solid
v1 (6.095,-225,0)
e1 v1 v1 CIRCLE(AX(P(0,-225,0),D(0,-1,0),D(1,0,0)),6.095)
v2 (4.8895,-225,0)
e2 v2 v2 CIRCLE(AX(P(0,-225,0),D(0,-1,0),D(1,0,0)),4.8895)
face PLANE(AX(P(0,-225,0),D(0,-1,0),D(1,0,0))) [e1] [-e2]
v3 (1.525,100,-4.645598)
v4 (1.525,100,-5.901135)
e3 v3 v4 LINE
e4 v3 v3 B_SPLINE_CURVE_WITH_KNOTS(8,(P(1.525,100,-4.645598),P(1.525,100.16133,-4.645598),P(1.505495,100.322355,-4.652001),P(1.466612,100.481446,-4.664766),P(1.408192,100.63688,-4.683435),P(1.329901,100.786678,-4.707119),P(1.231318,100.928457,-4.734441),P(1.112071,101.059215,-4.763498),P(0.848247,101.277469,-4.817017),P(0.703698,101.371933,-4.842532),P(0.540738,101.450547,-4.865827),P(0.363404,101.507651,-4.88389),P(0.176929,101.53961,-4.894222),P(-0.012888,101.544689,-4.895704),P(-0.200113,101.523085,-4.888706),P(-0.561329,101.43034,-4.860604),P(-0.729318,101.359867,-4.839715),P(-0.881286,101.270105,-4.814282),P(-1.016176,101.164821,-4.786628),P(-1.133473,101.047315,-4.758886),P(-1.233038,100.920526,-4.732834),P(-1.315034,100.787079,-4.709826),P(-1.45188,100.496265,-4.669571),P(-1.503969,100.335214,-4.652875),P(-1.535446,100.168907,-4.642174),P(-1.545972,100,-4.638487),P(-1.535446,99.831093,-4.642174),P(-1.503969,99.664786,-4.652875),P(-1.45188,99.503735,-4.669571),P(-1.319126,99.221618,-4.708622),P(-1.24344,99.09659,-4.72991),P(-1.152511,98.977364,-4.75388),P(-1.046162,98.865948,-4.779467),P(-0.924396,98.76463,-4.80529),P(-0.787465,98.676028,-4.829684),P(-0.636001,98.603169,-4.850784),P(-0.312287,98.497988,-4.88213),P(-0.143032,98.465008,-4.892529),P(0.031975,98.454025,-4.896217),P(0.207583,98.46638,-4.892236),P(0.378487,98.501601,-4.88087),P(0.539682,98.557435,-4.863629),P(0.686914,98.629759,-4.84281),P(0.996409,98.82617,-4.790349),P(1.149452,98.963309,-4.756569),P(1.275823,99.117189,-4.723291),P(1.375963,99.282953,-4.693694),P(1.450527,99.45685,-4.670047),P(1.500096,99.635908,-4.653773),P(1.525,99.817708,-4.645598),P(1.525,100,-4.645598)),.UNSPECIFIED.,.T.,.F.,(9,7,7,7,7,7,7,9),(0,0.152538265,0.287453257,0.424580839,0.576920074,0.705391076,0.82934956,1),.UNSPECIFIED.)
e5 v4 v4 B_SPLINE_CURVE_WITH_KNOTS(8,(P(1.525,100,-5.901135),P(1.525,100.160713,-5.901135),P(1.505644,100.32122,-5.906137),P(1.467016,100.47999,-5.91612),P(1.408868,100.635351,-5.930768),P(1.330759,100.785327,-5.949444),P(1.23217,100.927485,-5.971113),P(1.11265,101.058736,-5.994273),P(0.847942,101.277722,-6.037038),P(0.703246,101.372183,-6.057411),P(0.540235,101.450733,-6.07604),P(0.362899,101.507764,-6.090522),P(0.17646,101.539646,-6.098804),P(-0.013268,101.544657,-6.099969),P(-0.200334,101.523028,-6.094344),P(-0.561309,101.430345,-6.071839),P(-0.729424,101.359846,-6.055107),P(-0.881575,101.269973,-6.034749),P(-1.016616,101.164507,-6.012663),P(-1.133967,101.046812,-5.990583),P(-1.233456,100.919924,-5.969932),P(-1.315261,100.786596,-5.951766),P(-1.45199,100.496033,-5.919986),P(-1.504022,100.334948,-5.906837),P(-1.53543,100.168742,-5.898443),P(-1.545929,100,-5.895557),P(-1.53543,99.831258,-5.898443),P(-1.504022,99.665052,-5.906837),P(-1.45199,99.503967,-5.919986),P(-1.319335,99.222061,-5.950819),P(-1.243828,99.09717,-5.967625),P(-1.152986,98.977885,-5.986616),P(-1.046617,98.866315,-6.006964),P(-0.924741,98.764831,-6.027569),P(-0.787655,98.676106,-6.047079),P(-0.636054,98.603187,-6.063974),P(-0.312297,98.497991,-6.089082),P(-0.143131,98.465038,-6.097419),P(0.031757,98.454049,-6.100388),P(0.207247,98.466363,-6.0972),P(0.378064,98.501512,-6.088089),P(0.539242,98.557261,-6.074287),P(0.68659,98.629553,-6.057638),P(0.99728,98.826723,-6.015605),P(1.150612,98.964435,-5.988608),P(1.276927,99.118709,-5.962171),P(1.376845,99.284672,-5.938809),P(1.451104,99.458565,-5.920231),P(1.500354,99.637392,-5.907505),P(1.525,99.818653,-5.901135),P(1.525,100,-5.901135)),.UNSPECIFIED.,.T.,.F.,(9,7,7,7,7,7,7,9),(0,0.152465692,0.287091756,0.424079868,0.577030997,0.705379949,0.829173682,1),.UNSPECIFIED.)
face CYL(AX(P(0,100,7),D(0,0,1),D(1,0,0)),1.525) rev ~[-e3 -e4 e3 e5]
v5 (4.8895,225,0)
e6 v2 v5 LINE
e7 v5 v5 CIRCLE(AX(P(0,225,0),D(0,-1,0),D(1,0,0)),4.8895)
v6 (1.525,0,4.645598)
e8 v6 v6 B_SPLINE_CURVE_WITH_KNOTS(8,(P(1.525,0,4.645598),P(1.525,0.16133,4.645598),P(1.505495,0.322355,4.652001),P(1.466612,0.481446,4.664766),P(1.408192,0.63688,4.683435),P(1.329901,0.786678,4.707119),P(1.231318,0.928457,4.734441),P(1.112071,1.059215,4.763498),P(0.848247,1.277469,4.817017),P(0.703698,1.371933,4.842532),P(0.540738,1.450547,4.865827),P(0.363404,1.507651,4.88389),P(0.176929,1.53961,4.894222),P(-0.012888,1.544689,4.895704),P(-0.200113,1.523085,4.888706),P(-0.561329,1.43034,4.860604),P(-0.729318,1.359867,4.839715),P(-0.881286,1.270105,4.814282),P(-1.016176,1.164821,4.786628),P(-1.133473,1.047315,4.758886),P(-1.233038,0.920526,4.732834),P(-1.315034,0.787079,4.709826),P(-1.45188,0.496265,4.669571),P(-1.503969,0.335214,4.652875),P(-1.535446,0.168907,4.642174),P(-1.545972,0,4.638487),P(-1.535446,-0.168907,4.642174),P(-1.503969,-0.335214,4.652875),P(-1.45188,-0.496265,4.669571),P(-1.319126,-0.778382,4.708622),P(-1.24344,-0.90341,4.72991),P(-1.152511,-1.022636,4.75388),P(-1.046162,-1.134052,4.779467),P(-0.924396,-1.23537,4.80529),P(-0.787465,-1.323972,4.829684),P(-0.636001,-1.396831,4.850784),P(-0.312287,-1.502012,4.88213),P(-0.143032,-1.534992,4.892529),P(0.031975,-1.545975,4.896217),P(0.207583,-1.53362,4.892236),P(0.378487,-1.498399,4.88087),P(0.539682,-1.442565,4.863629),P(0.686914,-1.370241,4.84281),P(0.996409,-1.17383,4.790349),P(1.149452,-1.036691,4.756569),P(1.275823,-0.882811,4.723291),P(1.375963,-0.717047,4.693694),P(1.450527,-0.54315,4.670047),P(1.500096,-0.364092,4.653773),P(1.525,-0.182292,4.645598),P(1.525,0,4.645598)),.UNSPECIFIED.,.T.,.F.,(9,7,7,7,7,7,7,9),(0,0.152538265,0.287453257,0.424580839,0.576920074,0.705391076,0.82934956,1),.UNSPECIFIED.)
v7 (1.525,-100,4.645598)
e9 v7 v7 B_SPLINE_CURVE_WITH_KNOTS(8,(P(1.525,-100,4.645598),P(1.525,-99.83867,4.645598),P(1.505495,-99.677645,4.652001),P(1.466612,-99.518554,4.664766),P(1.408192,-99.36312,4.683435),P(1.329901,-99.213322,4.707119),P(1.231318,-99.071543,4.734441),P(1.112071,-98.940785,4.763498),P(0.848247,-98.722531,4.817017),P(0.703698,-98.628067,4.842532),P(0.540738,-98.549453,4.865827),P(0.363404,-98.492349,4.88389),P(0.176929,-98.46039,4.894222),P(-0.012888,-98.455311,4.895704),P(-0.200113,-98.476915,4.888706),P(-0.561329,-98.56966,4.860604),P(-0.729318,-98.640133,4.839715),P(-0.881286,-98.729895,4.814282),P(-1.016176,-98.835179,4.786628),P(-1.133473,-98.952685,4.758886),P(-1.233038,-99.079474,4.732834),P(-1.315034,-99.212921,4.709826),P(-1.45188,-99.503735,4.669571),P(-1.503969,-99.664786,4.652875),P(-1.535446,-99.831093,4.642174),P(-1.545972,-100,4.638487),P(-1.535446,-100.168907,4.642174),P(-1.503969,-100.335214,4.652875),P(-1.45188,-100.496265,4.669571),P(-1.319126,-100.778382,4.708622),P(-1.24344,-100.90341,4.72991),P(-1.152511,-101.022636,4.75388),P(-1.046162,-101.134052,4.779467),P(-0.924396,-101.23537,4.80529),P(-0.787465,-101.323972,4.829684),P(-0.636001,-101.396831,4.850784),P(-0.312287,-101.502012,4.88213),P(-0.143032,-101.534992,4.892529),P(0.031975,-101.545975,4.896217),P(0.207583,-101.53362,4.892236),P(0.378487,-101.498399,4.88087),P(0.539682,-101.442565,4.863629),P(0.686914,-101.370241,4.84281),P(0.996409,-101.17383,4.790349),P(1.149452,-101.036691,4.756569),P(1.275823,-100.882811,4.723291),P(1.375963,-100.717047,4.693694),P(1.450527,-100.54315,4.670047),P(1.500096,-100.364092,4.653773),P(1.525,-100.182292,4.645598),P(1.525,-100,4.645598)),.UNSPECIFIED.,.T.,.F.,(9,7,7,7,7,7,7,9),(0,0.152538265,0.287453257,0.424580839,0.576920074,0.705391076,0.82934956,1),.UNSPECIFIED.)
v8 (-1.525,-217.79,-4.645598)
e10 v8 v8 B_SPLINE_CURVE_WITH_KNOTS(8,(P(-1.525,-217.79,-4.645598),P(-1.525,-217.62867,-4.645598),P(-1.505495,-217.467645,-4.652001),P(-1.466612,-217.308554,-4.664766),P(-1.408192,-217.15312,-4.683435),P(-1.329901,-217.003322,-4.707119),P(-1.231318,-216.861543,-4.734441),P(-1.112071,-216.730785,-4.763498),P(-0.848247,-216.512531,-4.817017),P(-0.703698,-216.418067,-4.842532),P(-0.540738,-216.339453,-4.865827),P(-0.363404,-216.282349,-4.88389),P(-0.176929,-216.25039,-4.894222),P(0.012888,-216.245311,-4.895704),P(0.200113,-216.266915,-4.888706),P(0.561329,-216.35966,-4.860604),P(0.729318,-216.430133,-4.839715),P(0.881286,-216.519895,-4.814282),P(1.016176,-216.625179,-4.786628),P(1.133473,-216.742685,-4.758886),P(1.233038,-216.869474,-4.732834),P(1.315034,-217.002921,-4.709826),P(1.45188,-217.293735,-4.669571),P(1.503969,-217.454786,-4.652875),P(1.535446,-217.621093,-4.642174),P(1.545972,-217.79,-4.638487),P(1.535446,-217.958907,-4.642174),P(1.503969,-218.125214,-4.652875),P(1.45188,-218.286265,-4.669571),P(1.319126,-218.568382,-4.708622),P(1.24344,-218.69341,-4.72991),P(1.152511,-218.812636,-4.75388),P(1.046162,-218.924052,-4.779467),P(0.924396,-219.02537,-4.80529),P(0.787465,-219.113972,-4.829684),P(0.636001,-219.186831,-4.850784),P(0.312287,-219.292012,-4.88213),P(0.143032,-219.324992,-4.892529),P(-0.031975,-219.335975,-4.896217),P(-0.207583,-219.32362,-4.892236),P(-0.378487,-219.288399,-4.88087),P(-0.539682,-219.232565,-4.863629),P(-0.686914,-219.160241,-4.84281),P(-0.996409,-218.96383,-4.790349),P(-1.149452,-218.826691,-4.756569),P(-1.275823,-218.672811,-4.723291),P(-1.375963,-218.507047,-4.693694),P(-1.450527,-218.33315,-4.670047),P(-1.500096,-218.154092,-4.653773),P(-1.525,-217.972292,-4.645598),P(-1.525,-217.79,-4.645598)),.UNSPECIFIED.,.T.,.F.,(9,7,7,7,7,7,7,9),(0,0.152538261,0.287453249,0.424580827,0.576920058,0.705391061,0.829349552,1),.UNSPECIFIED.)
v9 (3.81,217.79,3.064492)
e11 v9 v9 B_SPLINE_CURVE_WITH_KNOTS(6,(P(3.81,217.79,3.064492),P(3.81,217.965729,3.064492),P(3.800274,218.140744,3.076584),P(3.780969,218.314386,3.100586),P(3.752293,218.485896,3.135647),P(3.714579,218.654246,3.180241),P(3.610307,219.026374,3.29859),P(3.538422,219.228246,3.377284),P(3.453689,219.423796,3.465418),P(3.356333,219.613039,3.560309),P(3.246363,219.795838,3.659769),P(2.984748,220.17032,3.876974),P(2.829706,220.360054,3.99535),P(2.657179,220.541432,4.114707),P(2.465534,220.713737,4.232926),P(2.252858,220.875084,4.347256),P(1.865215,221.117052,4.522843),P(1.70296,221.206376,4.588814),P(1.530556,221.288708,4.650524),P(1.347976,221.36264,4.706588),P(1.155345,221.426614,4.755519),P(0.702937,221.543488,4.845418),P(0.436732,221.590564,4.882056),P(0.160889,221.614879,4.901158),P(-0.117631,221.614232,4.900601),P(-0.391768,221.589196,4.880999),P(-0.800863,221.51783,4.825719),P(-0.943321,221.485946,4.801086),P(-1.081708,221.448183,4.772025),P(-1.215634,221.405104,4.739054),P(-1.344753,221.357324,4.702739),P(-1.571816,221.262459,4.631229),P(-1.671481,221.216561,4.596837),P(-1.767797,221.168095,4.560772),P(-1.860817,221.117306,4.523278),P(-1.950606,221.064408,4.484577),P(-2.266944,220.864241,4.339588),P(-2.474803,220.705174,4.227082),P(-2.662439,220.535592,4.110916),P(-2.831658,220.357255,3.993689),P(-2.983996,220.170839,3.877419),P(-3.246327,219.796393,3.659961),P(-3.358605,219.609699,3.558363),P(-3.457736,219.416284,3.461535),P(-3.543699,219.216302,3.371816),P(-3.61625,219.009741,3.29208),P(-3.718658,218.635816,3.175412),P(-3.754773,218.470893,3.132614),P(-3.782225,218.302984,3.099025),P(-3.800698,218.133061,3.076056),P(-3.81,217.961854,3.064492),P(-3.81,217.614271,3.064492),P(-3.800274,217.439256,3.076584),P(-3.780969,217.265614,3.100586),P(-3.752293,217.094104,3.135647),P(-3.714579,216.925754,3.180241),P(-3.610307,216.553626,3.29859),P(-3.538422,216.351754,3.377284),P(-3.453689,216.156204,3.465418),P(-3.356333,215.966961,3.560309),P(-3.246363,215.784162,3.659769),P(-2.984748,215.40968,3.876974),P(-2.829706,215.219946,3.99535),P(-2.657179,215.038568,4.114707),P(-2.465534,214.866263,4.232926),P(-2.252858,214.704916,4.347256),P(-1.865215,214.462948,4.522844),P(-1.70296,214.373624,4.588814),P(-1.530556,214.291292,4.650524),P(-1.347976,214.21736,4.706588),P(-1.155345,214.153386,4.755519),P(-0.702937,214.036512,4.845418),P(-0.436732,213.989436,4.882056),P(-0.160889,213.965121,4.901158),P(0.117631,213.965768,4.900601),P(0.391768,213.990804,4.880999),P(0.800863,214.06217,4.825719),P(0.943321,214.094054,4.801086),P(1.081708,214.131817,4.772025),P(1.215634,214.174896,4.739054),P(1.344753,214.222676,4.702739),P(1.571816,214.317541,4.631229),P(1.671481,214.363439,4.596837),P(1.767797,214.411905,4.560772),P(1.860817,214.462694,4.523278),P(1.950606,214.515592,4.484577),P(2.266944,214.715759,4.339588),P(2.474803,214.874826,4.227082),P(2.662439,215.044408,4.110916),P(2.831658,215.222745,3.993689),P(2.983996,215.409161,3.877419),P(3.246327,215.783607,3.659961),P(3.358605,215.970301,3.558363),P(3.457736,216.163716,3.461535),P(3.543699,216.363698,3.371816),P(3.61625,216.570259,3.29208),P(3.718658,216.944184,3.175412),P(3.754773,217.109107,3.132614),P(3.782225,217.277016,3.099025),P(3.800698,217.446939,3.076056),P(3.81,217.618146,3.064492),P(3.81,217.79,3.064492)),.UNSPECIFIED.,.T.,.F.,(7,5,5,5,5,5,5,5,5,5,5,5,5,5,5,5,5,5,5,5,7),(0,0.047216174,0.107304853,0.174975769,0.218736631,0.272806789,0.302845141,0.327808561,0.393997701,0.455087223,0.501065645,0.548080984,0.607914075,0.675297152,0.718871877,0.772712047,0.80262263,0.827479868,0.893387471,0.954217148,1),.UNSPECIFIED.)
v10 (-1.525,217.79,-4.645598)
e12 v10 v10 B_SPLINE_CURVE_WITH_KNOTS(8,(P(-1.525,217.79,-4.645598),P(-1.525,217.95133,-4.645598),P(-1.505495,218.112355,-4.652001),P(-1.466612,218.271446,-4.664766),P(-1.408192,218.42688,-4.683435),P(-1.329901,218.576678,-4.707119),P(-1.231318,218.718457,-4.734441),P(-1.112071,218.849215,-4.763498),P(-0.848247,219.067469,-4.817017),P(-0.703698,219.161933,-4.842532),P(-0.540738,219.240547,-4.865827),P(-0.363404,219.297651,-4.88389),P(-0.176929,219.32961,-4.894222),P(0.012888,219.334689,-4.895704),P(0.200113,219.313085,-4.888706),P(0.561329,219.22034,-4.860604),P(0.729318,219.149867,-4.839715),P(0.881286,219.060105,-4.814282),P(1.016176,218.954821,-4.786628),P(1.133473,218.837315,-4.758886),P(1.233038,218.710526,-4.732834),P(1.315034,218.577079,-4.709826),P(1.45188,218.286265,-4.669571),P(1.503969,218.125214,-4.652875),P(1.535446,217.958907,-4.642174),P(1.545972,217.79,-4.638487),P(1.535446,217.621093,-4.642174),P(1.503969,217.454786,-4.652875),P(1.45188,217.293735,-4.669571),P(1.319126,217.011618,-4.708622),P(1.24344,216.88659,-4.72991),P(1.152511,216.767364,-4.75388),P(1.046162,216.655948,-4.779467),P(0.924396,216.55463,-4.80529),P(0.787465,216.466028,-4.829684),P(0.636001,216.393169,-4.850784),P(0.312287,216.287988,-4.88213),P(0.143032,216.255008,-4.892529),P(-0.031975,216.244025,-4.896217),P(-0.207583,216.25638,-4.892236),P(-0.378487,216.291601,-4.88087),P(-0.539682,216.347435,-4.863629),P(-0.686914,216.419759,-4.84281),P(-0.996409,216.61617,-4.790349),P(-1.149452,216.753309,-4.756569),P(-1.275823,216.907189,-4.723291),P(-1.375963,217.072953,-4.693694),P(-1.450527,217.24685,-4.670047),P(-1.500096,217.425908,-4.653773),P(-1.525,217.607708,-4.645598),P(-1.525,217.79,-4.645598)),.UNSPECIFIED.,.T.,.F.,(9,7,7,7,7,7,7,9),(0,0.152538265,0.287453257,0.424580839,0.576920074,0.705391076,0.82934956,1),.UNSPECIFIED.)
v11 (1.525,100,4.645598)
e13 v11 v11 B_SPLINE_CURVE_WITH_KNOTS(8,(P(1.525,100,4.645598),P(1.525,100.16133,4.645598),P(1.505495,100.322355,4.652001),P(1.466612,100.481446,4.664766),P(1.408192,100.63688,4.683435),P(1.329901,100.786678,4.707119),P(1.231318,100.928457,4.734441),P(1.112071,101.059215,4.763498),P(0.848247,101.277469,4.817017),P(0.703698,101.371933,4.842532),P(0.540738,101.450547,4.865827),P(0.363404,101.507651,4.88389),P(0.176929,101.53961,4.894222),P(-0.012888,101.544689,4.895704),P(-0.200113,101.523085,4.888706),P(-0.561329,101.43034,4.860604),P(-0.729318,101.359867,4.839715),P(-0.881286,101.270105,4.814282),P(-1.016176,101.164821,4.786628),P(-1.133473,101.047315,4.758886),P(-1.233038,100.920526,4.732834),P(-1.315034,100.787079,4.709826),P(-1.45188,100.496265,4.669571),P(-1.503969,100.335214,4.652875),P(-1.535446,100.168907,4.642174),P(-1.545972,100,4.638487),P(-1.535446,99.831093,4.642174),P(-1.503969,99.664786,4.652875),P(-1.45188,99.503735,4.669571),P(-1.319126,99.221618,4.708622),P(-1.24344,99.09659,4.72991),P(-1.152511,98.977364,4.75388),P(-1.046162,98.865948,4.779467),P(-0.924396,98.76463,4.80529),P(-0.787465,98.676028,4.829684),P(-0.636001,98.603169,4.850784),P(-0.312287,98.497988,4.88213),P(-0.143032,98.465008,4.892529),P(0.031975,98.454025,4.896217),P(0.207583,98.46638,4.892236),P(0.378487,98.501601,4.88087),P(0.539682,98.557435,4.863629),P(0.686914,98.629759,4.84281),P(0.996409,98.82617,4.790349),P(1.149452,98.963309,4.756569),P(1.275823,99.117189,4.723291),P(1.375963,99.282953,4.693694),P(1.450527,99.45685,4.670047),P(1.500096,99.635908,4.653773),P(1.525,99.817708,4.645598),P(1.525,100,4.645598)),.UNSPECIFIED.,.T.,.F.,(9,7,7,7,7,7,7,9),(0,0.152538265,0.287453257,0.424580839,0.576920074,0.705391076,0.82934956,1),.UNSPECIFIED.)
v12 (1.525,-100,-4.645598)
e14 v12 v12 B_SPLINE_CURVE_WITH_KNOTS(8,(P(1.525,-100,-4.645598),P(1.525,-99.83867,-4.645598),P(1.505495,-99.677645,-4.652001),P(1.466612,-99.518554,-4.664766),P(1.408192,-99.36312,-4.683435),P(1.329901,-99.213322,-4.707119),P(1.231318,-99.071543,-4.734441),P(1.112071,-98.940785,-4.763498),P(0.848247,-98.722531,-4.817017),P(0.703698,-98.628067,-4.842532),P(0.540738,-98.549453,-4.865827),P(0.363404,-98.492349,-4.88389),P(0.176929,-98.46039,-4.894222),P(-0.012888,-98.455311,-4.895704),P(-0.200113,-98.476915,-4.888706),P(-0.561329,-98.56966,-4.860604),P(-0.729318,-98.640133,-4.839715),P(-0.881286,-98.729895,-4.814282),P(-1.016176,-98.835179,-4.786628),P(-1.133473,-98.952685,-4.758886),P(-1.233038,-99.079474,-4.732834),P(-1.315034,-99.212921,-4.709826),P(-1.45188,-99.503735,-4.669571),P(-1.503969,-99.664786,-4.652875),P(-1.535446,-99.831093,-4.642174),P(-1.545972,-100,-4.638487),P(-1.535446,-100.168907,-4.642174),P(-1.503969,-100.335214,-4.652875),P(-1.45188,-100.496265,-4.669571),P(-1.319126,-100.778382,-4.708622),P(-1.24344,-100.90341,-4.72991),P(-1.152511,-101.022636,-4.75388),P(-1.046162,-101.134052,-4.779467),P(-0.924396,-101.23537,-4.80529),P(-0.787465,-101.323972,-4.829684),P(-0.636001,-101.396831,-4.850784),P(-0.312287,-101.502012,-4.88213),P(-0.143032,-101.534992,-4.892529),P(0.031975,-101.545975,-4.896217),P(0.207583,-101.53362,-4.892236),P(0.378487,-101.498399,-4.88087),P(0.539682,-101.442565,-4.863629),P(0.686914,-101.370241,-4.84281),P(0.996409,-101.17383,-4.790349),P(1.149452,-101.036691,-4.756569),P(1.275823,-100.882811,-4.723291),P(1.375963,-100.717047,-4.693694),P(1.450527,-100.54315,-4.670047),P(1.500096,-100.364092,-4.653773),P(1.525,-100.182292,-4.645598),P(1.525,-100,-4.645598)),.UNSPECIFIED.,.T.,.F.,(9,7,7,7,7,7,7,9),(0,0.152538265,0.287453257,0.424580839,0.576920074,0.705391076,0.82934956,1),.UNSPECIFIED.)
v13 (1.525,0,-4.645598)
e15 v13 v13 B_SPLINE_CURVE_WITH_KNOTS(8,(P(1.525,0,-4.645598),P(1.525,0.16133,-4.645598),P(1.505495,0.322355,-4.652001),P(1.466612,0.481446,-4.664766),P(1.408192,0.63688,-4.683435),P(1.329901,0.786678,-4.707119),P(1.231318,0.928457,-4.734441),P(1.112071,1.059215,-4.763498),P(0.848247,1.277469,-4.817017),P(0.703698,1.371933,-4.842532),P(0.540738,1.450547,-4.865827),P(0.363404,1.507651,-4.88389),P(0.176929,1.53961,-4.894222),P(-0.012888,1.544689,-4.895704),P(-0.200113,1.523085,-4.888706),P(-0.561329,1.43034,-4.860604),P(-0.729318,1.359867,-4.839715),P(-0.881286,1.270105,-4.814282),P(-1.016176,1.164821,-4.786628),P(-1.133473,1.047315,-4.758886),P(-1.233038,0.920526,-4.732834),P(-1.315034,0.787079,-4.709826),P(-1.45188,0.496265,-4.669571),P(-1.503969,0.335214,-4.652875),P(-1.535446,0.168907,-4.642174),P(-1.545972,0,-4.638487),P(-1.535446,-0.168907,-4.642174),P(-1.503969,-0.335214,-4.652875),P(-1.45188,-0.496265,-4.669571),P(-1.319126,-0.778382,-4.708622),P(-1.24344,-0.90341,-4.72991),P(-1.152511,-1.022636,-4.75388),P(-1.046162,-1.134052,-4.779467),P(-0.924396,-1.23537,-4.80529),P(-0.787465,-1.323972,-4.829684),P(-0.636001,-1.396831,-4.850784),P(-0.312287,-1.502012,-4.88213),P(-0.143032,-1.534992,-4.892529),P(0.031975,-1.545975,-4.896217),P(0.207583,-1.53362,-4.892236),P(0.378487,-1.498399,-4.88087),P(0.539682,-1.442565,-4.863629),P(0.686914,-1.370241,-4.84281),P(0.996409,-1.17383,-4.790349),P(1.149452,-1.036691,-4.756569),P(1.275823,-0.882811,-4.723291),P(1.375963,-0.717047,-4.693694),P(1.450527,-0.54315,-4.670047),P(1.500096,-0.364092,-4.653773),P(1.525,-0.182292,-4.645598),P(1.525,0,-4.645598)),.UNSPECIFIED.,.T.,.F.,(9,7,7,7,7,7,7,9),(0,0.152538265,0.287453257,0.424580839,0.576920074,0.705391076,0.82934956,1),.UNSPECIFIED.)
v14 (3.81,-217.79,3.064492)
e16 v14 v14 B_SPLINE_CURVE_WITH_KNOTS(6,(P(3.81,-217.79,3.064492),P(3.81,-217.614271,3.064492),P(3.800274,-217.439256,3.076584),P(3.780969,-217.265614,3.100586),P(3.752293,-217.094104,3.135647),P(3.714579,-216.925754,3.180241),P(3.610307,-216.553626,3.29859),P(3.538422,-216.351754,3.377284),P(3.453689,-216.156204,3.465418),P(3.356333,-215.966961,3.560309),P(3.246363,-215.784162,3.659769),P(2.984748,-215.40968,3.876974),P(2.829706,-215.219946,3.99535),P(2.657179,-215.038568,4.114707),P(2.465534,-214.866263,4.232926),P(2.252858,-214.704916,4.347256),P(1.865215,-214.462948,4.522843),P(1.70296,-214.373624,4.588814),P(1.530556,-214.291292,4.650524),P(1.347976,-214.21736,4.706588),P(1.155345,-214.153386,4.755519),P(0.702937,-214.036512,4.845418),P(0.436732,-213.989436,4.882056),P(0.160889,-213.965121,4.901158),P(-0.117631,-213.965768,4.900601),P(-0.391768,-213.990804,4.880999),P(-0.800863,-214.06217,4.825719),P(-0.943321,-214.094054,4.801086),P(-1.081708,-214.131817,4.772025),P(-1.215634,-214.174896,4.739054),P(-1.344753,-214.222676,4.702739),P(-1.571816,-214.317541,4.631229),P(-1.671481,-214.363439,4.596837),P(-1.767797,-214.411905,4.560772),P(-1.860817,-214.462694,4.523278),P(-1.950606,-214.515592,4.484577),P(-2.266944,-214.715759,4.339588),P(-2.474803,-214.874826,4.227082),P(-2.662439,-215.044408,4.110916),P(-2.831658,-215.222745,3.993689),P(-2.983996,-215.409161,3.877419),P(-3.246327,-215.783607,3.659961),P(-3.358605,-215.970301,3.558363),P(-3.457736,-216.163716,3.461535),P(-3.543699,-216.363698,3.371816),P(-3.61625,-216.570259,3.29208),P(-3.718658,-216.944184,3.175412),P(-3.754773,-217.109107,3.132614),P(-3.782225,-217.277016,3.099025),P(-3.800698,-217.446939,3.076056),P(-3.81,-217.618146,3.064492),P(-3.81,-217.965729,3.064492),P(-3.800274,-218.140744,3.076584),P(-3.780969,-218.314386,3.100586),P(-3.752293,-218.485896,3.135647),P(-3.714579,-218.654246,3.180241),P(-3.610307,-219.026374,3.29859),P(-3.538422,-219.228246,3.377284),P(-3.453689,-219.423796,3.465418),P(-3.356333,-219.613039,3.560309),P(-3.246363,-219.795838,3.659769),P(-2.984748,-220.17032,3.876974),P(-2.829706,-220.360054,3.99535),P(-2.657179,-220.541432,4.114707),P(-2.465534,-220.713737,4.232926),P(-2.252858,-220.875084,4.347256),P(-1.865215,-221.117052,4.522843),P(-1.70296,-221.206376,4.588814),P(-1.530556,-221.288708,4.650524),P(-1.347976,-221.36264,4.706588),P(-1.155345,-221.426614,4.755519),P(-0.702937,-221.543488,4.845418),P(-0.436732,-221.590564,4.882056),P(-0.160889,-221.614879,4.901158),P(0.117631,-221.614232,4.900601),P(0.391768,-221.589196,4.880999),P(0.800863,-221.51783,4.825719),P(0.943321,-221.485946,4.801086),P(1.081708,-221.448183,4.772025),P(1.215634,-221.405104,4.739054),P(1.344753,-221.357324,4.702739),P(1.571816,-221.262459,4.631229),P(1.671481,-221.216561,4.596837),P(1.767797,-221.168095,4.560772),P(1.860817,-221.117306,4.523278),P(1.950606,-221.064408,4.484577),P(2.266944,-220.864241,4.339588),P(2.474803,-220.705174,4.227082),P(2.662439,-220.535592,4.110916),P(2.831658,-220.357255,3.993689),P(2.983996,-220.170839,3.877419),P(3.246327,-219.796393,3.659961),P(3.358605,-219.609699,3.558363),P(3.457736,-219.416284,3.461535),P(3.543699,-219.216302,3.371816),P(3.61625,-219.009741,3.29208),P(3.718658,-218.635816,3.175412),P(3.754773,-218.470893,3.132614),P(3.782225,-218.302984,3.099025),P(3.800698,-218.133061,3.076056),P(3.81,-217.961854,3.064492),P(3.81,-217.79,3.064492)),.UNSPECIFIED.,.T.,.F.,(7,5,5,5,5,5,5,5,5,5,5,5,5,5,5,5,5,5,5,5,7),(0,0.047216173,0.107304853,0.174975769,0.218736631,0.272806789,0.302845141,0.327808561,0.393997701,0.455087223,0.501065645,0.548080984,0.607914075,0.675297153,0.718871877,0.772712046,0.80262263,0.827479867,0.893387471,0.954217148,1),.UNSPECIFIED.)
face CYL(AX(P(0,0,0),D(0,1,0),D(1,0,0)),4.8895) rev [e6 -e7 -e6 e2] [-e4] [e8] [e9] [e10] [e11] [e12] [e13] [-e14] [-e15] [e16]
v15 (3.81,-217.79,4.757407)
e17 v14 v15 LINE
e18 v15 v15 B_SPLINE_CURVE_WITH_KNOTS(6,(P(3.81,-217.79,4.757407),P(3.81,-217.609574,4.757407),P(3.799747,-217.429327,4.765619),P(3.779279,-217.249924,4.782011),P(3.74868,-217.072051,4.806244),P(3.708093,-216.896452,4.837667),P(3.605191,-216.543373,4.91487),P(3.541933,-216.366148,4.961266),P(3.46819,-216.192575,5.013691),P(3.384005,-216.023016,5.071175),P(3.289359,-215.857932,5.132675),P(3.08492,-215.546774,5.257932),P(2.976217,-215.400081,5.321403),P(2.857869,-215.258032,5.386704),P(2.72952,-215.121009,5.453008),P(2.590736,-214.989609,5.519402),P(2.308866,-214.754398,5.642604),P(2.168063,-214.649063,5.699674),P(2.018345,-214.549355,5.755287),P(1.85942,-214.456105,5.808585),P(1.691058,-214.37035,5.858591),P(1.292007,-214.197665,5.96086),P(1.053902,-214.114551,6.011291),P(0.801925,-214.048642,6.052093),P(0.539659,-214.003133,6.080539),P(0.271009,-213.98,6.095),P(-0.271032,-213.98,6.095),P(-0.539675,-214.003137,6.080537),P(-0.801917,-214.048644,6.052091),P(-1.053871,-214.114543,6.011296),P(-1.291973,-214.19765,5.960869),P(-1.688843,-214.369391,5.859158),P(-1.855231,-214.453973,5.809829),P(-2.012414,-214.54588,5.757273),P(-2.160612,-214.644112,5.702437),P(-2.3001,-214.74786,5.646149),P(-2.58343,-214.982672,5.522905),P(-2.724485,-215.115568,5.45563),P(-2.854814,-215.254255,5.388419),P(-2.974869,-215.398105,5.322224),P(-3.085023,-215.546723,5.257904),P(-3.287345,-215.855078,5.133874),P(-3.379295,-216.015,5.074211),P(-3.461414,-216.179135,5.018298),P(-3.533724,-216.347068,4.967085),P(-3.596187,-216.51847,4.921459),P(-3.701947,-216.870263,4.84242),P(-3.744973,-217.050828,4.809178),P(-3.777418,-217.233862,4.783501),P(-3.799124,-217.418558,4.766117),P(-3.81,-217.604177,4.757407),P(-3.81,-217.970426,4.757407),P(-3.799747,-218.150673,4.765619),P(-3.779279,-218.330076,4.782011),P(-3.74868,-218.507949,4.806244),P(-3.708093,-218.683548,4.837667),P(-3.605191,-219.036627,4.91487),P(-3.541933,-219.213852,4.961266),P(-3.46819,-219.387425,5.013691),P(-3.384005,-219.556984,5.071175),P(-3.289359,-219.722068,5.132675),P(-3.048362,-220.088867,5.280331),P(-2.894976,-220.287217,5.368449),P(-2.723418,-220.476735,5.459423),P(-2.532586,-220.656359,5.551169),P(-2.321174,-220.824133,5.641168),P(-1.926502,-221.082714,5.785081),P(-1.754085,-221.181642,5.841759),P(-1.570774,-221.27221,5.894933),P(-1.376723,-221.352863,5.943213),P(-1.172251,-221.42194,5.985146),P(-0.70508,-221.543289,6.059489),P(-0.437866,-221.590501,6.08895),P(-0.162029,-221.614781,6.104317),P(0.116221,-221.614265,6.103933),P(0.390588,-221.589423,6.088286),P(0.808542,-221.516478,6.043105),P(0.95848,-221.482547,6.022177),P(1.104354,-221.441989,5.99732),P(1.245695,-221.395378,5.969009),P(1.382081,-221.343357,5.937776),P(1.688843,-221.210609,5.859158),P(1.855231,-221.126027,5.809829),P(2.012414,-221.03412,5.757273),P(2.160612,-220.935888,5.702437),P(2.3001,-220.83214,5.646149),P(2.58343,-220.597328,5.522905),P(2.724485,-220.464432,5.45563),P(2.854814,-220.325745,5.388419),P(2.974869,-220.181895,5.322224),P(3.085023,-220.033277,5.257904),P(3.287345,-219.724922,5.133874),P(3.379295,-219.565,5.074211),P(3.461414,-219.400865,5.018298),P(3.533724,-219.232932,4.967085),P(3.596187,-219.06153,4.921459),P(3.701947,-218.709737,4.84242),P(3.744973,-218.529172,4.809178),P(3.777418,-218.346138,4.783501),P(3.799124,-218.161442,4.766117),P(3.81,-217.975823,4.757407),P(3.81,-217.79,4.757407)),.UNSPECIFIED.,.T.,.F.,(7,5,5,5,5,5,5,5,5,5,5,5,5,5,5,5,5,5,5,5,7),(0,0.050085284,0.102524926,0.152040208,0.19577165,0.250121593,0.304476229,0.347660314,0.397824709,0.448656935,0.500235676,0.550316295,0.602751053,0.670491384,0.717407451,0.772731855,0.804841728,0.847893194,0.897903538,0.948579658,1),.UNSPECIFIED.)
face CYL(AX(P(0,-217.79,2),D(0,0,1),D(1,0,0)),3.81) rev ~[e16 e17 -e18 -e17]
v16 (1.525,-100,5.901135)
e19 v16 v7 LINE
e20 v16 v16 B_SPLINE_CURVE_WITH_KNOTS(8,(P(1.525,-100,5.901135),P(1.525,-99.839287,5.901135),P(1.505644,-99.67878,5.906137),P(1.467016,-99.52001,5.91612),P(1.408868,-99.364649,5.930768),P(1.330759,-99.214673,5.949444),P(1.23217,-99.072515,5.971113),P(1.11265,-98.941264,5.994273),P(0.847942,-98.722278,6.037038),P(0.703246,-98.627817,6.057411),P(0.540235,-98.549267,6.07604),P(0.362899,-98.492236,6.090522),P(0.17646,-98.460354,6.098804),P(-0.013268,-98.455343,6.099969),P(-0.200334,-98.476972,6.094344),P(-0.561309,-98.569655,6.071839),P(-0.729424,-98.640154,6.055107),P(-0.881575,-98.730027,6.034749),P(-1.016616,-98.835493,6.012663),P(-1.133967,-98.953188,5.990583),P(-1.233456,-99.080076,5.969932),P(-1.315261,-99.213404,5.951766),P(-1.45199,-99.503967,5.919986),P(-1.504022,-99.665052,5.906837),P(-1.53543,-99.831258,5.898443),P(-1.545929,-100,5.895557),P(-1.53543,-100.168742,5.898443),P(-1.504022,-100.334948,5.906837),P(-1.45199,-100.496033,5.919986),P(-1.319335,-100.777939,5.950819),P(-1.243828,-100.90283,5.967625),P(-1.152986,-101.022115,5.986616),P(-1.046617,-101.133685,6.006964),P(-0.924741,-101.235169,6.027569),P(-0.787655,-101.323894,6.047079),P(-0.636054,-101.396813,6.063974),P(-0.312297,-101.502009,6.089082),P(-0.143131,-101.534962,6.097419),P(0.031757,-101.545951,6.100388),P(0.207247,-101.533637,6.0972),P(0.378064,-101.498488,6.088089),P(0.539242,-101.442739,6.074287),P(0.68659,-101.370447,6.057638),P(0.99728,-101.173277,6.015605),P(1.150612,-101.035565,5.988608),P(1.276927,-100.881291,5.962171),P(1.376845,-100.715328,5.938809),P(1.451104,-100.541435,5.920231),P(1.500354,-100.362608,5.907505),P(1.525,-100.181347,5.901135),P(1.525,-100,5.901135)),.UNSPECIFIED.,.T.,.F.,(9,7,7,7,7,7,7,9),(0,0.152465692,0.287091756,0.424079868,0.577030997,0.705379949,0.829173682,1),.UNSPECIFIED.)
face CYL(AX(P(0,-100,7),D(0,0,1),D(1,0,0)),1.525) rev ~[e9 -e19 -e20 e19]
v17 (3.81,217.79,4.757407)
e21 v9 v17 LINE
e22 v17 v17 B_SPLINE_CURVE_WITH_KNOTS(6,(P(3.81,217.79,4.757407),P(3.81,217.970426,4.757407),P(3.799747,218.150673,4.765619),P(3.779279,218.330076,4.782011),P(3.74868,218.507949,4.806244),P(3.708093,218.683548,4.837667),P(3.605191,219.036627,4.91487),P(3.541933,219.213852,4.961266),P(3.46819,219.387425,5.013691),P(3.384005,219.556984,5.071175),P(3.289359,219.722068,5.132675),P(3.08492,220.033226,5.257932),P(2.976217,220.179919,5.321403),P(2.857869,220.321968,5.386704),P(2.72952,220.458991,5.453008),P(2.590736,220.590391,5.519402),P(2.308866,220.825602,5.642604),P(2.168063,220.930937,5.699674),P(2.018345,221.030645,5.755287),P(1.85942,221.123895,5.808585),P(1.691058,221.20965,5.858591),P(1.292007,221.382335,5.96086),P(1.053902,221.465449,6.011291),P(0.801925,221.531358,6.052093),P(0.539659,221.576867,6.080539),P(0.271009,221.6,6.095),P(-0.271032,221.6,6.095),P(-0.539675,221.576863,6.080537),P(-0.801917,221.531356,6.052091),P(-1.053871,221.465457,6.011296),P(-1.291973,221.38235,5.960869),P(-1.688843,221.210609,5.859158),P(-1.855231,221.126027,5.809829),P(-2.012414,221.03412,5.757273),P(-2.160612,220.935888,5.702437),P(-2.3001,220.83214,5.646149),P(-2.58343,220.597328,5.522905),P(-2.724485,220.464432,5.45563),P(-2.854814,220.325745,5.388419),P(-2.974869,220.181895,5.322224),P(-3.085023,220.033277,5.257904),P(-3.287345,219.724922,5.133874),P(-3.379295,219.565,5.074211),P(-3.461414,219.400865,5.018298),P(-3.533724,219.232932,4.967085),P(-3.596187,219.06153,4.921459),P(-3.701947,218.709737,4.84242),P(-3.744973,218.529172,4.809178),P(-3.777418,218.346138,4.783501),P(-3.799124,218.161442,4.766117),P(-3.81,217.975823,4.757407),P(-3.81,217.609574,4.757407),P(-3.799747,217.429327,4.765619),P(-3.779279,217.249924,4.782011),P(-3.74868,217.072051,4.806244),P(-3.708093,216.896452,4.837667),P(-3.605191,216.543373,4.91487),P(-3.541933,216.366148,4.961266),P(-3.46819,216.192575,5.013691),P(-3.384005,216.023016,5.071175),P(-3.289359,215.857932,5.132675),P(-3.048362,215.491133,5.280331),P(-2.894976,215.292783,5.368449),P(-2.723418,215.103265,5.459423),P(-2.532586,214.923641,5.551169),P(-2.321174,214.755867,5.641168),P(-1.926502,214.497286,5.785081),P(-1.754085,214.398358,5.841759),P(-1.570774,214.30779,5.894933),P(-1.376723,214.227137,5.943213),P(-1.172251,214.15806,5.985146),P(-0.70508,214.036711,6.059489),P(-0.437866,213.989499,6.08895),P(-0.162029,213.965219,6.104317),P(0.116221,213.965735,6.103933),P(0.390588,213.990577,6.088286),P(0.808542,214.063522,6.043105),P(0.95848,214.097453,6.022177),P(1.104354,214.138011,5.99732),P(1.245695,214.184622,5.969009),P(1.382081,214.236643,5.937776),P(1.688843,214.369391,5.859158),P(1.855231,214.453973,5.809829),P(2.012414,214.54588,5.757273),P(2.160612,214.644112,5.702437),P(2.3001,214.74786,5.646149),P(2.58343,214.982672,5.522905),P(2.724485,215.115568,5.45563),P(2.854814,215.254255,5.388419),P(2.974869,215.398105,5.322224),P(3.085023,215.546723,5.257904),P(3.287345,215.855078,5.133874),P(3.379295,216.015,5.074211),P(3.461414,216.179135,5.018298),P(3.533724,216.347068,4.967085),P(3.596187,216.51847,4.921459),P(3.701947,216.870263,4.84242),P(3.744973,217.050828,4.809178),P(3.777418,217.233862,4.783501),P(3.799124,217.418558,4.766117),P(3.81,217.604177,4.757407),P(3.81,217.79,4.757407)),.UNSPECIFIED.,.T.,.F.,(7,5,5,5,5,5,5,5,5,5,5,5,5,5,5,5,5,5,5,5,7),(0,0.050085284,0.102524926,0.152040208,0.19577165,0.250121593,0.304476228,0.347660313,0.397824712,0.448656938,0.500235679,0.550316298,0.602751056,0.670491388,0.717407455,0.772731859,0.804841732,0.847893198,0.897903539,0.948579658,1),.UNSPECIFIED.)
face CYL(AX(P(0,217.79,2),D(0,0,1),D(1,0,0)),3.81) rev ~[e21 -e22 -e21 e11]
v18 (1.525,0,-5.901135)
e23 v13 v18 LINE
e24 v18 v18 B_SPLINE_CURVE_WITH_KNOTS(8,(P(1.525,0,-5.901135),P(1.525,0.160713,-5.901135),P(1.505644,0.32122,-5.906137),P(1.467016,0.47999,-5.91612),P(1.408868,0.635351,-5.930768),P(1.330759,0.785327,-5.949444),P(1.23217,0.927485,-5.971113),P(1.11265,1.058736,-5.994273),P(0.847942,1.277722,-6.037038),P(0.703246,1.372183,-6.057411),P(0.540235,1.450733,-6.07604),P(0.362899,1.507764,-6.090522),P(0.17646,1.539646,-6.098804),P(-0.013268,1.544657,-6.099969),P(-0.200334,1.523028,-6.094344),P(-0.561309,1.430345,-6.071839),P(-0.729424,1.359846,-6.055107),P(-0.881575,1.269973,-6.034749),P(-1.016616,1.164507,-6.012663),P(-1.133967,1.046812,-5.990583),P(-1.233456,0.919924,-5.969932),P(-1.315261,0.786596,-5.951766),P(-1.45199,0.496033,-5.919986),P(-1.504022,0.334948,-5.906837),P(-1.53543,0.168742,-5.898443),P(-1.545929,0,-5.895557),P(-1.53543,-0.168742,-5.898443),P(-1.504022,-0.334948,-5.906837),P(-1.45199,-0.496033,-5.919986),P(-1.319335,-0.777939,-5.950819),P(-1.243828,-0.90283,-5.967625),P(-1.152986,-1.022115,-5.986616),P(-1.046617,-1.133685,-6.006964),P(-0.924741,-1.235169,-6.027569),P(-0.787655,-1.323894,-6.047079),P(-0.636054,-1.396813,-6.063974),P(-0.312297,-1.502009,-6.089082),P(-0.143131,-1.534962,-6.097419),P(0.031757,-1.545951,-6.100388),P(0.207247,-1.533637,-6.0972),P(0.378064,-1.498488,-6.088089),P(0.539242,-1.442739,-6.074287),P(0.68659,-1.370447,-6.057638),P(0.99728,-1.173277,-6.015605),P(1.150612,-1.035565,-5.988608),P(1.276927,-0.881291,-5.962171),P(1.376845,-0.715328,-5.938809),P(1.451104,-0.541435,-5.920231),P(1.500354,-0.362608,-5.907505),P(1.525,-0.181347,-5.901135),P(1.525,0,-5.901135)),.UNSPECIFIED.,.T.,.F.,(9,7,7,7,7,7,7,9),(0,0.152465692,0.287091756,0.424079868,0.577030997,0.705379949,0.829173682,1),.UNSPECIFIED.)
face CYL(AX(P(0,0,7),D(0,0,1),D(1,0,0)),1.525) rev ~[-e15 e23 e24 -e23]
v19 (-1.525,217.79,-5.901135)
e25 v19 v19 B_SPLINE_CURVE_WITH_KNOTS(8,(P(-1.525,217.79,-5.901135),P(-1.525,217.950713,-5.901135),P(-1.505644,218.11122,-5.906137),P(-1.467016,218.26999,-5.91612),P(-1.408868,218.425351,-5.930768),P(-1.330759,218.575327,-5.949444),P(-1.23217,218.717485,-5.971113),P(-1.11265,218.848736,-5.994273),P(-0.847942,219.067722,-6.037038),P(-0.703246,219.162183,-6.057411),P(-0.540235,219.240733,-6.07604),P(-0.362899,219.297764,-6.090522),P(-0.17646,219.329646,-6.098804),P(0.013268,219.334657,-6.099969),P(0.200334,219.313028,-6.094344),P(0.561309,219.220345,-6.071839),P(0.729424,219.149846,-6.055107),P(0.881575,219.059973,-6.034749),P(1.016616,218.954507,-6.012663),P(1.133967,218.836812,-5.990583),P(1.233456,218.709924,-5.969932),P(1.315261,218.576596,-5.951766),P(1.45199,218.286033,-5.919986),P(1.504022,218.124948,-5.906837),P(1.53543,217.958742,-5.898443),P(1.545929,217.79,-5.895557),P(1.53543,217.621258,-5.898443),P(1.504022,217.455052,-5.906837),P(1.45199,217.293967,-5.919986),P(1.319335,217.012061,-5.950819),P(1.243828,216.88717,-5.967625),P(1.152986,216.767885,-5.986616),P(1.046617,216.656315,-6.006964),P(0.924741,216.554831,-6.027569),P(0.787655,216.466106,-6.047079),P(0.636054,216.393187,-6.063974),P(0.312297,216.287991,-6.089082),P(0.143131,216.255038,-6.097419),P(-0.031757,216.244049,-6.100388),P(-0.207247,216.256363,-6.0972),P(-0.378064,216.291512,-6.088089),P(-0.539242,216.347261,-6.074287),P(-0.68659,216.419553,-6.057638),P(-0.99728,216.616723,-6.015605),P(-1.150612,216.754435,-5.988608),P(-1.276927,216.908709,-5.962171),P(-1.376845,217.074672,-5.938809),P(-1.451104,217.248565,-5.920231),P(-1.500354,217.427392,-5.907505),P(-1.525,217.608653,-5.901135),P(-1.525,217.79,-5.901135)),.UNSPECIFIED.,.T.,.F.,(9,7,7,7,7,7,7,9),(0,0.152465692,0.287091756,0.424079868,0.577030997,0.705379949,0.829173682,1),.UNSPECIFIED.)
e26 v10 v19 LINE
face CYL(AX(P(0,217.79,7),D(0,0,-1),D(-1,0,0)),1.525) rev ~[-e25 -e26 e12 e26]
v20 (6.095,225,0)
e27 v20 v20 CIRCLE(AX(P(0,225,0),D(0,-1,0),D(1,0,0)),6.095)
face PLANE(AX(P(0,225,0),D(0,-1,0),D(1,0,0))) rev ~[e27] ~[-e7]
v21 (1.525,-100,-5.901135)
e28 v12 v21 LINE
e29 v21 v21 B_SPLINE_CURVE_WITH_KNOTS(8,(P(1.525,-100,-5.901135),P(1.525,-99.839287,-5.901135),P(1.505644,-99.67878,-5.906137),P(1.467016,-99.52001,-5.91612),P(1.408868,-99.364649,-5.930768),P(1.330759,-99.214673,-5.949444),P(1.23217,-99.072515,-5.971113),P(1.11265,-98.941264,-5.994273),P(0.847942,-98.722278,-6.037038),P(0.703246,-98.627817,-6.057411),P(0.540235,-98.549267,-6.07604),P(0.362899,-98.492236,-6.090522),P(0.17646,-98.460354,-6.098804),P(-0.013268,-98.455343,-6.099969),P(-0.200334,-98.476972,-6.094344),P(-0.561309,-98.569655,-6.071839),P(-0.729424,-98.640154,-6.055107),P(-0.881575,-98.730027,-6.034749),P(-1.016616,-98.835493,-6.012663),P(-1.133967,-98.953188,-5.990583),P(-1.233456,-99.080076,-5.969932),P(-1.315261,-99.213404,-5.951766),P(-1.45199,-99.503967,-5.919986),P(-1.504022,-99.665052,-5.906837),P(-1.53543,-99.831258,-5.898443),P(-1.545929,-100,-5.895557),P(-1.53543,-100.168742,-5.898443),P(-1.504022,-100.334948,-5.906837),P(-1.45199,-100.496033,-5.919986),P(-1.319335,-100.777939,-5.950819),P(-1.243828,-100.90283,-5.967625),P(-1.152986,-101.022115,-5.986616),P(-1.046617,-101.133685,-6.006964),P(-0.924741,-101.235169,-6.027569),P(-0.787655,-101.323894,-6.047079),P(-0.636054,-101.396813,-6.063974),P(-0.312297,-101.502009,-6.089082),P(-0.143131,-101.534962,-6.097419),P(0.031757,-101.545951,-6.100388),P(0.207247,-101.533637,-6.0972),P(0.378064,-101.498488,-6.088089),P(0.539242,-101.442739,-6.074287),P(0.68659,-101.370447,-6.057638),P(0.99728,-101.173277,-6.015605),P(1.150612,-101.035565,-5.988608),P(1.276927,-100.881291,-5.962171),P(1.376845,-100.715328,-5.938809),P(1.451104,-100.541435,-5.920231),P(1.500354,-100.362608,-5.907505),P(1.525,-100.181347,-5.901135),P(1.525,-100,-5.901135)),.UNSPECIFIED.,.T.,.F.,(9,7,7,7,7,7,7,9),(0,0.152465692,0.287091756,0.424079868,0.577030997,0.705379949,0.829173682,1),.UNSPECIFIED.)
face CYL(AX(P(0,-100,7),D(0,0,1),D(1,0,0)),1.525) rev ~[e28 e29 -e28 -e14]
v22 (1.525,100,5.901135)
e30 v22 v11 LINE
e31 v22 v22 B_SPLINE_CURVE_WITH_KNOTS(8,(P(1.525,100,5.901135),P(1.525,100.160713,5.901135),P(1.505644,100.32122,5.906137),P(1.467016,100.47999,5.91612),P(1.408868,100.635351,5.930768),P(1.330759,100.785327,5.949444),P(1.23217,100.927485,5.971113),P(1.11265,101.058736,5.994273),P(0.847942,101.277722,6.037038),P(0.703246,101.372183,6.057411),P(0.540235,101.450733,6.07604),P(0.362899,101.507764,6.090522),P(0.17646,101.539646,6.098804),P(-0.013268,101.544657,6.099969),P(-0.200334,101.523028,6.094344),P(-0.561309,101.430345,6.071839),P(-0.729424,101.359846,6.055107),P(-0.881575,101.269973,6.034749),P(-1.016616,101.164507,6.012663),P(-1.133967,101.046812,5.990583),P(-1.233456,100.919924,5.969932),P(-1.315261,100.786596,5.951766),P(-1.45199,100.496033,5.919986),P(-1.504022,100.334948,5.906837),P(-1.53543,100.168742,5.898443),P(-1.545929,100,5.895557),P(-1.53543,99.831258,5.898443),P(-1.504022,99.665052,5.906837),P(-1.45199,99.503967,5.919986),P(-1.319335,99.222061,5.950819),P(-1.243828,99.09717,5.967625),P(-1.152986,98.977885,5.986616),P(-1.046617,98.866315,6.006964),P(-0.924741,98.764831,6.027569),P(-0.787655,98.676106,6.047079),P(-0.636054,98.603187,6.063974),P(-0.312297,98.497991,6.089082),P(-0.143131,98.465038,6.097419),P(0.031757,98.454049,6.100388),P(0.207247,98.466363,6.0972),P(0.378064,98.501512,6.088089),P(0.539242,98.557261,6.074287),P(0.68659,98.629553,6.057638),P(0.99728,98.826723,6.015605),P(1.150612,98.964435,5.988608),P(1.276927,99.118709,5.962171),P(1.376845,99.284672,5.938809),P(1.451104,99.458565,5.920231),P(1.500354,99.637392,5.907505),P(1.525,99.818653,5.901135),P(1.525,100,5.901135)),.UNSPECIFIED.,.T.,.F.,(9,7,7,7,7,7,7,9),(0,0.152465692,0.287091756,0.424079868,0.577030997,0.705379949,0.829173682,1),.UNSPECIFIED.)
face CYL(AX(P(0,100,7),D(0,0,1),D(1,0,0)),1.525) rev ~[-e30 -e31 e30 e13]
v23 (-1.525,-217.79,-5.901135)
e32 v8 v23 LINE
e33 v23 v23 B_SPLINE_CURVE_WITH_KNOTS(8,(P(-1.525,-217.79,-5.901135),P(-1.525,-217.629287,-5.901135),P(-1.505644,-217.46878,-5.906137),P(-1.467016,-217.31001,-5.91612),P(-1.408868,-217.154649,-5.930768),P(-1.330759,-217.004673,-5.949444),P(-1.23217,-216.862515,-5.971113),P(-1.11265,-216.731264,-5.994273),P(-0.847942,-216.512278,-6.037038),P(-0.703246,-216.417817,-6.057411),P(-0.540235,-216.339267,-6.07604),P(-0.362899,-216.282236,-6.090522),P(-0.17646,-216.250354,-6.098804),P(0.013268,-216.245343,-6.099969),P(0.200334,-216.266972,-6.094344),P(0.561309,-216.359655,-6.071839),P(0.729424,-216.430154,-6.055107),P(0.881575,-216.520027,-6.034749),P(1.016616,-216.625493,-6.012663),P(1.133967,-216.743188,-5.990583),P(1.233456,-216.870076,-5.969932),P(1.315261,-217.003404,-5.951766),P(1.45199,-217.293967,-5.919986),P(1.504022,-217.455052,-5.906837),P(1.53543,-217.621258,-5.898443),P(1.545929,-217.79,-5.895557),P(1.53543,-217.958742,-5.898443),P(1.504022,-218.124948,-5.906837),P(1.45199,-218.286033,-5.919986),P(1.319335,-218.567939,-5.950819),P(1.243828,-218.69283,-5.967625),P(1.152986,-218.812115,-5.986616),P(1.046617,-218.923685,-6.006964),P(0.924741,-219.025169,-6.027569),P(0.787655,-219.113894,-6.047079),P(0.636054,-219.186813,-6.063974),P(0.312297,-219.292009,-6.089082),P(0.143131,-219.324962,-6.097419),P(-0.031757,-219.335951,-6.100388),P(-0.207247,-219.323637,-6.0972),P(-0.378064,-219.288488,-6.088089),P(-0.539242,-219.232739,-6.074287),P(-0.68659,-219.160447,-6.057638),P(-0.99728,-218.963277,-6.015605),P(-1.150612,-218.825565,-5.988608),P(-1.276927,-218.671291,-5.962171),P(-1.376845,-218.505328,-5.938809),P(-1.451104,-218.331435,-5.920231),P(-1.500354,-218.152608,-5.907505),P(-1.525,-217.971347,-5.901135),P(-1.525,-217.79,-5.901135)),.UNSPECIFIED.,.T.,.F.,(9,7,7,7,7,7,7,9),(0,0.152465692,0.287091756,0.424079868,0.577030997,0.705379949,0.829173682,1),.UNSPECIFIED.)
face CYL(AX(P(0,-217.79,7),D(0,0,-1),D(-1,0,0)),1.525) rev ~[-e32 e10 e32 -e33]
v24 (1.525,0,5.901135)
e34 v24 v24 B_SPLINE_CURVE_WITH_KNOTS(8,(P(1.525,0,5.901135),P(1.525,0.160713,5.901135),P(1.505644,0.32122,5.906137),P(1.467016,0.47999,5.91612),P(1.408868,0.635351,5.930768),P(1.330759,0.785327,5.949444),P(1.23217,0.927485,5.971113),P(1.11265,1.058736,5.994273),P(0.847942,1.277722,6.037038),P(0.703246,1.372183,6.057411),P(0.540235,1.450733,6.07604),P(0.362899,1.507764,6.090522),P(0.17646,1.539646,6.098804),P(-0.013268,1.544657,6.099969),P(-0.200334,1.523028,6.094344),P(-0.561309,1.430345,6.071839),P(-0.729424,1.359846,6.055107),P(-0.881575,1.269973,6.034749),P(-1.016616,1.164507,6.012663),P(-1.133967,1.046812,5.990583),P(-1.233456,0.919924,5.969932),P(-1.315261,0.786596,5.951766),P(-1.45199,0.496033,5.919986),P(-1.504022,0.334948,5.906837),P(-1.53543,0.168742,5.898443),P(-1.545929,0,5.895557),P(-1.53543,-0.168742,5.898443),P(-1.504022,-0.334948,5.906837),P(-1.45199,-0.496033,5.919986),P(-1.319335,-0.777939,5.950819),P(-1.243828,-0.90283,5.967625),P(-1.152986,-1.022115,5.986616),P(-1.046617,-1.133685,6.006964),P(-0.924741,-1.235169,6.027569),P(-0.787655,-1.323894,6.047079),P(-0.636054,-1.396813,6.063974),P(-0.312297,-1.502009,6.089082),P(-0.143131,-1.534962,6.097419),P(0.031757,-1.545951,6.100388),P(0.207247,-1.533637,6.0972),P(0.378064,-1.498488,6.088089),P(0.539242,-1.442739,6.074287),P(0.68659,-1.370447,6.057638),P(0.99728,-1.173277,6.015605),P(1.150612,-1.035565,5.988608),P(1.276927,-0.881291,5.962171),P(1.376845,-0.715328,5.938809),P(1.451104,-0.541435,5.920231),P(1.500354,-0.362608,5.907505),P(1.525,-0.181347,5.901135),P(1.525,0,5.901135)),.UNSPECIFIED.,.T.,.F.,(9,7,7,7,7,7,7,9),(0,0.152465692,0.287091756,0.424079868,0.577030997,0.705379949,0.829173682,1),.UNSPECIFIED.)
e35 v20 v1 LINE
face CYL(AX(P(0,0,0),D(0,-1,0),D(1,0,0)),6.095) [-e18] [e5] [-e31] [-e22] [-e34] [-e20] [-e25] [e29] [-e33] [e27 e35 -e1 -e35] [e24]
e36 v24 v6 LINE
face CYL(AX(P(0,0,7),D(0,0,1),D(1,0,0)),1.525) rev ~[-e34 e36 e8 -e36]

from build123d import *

# Parameters (mm, degrees)
SKETCH_R         = 6.095
SKETCH_R_2       = 4.8895
PAD_DEPTH        = 225
HOLE_D           = 3.05
HOLE_DEPTH       = 25
HOLE_CBORE_D     = 7.62
HOLE_CBORE_DEPTH = 5
SKETCH002_R      = 1.525
HOLE001_DEPTH    = 25


with BuildPart() as part:
    # Sketch → Pad (new body, symmetric)
    with BuildSketch(Plane.XZ):
        Circle(SKETCH_R)
        Circle(SKETCH_R_2, mode=Mode.SUBTRACT)
    extrude(amount=PAD_DEPTH, both=True)

    # Hole
    with Locations(Plane.XY.offset(7)):
        with Locations((0, -217.79), (0, 217.79)):
            CounterBoreHole(HOLE_D / 2, HOLE_CBORE_D / 2, HOLE_CBORE_DEPTH, depth=HOLE_DEPTH)

    # Sketch002 → Hole001 (cut)
    with BuildSketch(Plane.XY.offset(7)):
        Circle(SKETCH002_R)
        with Locations((0, -100)):
            Circle(SKETCH002_R)
        with Locations((0, 100)):
            Circle(SKETCH002_R)
    extrude(amount=-HOLE001_DEPTH, mode=Mode.SUBTRACT)


solid = part.part
